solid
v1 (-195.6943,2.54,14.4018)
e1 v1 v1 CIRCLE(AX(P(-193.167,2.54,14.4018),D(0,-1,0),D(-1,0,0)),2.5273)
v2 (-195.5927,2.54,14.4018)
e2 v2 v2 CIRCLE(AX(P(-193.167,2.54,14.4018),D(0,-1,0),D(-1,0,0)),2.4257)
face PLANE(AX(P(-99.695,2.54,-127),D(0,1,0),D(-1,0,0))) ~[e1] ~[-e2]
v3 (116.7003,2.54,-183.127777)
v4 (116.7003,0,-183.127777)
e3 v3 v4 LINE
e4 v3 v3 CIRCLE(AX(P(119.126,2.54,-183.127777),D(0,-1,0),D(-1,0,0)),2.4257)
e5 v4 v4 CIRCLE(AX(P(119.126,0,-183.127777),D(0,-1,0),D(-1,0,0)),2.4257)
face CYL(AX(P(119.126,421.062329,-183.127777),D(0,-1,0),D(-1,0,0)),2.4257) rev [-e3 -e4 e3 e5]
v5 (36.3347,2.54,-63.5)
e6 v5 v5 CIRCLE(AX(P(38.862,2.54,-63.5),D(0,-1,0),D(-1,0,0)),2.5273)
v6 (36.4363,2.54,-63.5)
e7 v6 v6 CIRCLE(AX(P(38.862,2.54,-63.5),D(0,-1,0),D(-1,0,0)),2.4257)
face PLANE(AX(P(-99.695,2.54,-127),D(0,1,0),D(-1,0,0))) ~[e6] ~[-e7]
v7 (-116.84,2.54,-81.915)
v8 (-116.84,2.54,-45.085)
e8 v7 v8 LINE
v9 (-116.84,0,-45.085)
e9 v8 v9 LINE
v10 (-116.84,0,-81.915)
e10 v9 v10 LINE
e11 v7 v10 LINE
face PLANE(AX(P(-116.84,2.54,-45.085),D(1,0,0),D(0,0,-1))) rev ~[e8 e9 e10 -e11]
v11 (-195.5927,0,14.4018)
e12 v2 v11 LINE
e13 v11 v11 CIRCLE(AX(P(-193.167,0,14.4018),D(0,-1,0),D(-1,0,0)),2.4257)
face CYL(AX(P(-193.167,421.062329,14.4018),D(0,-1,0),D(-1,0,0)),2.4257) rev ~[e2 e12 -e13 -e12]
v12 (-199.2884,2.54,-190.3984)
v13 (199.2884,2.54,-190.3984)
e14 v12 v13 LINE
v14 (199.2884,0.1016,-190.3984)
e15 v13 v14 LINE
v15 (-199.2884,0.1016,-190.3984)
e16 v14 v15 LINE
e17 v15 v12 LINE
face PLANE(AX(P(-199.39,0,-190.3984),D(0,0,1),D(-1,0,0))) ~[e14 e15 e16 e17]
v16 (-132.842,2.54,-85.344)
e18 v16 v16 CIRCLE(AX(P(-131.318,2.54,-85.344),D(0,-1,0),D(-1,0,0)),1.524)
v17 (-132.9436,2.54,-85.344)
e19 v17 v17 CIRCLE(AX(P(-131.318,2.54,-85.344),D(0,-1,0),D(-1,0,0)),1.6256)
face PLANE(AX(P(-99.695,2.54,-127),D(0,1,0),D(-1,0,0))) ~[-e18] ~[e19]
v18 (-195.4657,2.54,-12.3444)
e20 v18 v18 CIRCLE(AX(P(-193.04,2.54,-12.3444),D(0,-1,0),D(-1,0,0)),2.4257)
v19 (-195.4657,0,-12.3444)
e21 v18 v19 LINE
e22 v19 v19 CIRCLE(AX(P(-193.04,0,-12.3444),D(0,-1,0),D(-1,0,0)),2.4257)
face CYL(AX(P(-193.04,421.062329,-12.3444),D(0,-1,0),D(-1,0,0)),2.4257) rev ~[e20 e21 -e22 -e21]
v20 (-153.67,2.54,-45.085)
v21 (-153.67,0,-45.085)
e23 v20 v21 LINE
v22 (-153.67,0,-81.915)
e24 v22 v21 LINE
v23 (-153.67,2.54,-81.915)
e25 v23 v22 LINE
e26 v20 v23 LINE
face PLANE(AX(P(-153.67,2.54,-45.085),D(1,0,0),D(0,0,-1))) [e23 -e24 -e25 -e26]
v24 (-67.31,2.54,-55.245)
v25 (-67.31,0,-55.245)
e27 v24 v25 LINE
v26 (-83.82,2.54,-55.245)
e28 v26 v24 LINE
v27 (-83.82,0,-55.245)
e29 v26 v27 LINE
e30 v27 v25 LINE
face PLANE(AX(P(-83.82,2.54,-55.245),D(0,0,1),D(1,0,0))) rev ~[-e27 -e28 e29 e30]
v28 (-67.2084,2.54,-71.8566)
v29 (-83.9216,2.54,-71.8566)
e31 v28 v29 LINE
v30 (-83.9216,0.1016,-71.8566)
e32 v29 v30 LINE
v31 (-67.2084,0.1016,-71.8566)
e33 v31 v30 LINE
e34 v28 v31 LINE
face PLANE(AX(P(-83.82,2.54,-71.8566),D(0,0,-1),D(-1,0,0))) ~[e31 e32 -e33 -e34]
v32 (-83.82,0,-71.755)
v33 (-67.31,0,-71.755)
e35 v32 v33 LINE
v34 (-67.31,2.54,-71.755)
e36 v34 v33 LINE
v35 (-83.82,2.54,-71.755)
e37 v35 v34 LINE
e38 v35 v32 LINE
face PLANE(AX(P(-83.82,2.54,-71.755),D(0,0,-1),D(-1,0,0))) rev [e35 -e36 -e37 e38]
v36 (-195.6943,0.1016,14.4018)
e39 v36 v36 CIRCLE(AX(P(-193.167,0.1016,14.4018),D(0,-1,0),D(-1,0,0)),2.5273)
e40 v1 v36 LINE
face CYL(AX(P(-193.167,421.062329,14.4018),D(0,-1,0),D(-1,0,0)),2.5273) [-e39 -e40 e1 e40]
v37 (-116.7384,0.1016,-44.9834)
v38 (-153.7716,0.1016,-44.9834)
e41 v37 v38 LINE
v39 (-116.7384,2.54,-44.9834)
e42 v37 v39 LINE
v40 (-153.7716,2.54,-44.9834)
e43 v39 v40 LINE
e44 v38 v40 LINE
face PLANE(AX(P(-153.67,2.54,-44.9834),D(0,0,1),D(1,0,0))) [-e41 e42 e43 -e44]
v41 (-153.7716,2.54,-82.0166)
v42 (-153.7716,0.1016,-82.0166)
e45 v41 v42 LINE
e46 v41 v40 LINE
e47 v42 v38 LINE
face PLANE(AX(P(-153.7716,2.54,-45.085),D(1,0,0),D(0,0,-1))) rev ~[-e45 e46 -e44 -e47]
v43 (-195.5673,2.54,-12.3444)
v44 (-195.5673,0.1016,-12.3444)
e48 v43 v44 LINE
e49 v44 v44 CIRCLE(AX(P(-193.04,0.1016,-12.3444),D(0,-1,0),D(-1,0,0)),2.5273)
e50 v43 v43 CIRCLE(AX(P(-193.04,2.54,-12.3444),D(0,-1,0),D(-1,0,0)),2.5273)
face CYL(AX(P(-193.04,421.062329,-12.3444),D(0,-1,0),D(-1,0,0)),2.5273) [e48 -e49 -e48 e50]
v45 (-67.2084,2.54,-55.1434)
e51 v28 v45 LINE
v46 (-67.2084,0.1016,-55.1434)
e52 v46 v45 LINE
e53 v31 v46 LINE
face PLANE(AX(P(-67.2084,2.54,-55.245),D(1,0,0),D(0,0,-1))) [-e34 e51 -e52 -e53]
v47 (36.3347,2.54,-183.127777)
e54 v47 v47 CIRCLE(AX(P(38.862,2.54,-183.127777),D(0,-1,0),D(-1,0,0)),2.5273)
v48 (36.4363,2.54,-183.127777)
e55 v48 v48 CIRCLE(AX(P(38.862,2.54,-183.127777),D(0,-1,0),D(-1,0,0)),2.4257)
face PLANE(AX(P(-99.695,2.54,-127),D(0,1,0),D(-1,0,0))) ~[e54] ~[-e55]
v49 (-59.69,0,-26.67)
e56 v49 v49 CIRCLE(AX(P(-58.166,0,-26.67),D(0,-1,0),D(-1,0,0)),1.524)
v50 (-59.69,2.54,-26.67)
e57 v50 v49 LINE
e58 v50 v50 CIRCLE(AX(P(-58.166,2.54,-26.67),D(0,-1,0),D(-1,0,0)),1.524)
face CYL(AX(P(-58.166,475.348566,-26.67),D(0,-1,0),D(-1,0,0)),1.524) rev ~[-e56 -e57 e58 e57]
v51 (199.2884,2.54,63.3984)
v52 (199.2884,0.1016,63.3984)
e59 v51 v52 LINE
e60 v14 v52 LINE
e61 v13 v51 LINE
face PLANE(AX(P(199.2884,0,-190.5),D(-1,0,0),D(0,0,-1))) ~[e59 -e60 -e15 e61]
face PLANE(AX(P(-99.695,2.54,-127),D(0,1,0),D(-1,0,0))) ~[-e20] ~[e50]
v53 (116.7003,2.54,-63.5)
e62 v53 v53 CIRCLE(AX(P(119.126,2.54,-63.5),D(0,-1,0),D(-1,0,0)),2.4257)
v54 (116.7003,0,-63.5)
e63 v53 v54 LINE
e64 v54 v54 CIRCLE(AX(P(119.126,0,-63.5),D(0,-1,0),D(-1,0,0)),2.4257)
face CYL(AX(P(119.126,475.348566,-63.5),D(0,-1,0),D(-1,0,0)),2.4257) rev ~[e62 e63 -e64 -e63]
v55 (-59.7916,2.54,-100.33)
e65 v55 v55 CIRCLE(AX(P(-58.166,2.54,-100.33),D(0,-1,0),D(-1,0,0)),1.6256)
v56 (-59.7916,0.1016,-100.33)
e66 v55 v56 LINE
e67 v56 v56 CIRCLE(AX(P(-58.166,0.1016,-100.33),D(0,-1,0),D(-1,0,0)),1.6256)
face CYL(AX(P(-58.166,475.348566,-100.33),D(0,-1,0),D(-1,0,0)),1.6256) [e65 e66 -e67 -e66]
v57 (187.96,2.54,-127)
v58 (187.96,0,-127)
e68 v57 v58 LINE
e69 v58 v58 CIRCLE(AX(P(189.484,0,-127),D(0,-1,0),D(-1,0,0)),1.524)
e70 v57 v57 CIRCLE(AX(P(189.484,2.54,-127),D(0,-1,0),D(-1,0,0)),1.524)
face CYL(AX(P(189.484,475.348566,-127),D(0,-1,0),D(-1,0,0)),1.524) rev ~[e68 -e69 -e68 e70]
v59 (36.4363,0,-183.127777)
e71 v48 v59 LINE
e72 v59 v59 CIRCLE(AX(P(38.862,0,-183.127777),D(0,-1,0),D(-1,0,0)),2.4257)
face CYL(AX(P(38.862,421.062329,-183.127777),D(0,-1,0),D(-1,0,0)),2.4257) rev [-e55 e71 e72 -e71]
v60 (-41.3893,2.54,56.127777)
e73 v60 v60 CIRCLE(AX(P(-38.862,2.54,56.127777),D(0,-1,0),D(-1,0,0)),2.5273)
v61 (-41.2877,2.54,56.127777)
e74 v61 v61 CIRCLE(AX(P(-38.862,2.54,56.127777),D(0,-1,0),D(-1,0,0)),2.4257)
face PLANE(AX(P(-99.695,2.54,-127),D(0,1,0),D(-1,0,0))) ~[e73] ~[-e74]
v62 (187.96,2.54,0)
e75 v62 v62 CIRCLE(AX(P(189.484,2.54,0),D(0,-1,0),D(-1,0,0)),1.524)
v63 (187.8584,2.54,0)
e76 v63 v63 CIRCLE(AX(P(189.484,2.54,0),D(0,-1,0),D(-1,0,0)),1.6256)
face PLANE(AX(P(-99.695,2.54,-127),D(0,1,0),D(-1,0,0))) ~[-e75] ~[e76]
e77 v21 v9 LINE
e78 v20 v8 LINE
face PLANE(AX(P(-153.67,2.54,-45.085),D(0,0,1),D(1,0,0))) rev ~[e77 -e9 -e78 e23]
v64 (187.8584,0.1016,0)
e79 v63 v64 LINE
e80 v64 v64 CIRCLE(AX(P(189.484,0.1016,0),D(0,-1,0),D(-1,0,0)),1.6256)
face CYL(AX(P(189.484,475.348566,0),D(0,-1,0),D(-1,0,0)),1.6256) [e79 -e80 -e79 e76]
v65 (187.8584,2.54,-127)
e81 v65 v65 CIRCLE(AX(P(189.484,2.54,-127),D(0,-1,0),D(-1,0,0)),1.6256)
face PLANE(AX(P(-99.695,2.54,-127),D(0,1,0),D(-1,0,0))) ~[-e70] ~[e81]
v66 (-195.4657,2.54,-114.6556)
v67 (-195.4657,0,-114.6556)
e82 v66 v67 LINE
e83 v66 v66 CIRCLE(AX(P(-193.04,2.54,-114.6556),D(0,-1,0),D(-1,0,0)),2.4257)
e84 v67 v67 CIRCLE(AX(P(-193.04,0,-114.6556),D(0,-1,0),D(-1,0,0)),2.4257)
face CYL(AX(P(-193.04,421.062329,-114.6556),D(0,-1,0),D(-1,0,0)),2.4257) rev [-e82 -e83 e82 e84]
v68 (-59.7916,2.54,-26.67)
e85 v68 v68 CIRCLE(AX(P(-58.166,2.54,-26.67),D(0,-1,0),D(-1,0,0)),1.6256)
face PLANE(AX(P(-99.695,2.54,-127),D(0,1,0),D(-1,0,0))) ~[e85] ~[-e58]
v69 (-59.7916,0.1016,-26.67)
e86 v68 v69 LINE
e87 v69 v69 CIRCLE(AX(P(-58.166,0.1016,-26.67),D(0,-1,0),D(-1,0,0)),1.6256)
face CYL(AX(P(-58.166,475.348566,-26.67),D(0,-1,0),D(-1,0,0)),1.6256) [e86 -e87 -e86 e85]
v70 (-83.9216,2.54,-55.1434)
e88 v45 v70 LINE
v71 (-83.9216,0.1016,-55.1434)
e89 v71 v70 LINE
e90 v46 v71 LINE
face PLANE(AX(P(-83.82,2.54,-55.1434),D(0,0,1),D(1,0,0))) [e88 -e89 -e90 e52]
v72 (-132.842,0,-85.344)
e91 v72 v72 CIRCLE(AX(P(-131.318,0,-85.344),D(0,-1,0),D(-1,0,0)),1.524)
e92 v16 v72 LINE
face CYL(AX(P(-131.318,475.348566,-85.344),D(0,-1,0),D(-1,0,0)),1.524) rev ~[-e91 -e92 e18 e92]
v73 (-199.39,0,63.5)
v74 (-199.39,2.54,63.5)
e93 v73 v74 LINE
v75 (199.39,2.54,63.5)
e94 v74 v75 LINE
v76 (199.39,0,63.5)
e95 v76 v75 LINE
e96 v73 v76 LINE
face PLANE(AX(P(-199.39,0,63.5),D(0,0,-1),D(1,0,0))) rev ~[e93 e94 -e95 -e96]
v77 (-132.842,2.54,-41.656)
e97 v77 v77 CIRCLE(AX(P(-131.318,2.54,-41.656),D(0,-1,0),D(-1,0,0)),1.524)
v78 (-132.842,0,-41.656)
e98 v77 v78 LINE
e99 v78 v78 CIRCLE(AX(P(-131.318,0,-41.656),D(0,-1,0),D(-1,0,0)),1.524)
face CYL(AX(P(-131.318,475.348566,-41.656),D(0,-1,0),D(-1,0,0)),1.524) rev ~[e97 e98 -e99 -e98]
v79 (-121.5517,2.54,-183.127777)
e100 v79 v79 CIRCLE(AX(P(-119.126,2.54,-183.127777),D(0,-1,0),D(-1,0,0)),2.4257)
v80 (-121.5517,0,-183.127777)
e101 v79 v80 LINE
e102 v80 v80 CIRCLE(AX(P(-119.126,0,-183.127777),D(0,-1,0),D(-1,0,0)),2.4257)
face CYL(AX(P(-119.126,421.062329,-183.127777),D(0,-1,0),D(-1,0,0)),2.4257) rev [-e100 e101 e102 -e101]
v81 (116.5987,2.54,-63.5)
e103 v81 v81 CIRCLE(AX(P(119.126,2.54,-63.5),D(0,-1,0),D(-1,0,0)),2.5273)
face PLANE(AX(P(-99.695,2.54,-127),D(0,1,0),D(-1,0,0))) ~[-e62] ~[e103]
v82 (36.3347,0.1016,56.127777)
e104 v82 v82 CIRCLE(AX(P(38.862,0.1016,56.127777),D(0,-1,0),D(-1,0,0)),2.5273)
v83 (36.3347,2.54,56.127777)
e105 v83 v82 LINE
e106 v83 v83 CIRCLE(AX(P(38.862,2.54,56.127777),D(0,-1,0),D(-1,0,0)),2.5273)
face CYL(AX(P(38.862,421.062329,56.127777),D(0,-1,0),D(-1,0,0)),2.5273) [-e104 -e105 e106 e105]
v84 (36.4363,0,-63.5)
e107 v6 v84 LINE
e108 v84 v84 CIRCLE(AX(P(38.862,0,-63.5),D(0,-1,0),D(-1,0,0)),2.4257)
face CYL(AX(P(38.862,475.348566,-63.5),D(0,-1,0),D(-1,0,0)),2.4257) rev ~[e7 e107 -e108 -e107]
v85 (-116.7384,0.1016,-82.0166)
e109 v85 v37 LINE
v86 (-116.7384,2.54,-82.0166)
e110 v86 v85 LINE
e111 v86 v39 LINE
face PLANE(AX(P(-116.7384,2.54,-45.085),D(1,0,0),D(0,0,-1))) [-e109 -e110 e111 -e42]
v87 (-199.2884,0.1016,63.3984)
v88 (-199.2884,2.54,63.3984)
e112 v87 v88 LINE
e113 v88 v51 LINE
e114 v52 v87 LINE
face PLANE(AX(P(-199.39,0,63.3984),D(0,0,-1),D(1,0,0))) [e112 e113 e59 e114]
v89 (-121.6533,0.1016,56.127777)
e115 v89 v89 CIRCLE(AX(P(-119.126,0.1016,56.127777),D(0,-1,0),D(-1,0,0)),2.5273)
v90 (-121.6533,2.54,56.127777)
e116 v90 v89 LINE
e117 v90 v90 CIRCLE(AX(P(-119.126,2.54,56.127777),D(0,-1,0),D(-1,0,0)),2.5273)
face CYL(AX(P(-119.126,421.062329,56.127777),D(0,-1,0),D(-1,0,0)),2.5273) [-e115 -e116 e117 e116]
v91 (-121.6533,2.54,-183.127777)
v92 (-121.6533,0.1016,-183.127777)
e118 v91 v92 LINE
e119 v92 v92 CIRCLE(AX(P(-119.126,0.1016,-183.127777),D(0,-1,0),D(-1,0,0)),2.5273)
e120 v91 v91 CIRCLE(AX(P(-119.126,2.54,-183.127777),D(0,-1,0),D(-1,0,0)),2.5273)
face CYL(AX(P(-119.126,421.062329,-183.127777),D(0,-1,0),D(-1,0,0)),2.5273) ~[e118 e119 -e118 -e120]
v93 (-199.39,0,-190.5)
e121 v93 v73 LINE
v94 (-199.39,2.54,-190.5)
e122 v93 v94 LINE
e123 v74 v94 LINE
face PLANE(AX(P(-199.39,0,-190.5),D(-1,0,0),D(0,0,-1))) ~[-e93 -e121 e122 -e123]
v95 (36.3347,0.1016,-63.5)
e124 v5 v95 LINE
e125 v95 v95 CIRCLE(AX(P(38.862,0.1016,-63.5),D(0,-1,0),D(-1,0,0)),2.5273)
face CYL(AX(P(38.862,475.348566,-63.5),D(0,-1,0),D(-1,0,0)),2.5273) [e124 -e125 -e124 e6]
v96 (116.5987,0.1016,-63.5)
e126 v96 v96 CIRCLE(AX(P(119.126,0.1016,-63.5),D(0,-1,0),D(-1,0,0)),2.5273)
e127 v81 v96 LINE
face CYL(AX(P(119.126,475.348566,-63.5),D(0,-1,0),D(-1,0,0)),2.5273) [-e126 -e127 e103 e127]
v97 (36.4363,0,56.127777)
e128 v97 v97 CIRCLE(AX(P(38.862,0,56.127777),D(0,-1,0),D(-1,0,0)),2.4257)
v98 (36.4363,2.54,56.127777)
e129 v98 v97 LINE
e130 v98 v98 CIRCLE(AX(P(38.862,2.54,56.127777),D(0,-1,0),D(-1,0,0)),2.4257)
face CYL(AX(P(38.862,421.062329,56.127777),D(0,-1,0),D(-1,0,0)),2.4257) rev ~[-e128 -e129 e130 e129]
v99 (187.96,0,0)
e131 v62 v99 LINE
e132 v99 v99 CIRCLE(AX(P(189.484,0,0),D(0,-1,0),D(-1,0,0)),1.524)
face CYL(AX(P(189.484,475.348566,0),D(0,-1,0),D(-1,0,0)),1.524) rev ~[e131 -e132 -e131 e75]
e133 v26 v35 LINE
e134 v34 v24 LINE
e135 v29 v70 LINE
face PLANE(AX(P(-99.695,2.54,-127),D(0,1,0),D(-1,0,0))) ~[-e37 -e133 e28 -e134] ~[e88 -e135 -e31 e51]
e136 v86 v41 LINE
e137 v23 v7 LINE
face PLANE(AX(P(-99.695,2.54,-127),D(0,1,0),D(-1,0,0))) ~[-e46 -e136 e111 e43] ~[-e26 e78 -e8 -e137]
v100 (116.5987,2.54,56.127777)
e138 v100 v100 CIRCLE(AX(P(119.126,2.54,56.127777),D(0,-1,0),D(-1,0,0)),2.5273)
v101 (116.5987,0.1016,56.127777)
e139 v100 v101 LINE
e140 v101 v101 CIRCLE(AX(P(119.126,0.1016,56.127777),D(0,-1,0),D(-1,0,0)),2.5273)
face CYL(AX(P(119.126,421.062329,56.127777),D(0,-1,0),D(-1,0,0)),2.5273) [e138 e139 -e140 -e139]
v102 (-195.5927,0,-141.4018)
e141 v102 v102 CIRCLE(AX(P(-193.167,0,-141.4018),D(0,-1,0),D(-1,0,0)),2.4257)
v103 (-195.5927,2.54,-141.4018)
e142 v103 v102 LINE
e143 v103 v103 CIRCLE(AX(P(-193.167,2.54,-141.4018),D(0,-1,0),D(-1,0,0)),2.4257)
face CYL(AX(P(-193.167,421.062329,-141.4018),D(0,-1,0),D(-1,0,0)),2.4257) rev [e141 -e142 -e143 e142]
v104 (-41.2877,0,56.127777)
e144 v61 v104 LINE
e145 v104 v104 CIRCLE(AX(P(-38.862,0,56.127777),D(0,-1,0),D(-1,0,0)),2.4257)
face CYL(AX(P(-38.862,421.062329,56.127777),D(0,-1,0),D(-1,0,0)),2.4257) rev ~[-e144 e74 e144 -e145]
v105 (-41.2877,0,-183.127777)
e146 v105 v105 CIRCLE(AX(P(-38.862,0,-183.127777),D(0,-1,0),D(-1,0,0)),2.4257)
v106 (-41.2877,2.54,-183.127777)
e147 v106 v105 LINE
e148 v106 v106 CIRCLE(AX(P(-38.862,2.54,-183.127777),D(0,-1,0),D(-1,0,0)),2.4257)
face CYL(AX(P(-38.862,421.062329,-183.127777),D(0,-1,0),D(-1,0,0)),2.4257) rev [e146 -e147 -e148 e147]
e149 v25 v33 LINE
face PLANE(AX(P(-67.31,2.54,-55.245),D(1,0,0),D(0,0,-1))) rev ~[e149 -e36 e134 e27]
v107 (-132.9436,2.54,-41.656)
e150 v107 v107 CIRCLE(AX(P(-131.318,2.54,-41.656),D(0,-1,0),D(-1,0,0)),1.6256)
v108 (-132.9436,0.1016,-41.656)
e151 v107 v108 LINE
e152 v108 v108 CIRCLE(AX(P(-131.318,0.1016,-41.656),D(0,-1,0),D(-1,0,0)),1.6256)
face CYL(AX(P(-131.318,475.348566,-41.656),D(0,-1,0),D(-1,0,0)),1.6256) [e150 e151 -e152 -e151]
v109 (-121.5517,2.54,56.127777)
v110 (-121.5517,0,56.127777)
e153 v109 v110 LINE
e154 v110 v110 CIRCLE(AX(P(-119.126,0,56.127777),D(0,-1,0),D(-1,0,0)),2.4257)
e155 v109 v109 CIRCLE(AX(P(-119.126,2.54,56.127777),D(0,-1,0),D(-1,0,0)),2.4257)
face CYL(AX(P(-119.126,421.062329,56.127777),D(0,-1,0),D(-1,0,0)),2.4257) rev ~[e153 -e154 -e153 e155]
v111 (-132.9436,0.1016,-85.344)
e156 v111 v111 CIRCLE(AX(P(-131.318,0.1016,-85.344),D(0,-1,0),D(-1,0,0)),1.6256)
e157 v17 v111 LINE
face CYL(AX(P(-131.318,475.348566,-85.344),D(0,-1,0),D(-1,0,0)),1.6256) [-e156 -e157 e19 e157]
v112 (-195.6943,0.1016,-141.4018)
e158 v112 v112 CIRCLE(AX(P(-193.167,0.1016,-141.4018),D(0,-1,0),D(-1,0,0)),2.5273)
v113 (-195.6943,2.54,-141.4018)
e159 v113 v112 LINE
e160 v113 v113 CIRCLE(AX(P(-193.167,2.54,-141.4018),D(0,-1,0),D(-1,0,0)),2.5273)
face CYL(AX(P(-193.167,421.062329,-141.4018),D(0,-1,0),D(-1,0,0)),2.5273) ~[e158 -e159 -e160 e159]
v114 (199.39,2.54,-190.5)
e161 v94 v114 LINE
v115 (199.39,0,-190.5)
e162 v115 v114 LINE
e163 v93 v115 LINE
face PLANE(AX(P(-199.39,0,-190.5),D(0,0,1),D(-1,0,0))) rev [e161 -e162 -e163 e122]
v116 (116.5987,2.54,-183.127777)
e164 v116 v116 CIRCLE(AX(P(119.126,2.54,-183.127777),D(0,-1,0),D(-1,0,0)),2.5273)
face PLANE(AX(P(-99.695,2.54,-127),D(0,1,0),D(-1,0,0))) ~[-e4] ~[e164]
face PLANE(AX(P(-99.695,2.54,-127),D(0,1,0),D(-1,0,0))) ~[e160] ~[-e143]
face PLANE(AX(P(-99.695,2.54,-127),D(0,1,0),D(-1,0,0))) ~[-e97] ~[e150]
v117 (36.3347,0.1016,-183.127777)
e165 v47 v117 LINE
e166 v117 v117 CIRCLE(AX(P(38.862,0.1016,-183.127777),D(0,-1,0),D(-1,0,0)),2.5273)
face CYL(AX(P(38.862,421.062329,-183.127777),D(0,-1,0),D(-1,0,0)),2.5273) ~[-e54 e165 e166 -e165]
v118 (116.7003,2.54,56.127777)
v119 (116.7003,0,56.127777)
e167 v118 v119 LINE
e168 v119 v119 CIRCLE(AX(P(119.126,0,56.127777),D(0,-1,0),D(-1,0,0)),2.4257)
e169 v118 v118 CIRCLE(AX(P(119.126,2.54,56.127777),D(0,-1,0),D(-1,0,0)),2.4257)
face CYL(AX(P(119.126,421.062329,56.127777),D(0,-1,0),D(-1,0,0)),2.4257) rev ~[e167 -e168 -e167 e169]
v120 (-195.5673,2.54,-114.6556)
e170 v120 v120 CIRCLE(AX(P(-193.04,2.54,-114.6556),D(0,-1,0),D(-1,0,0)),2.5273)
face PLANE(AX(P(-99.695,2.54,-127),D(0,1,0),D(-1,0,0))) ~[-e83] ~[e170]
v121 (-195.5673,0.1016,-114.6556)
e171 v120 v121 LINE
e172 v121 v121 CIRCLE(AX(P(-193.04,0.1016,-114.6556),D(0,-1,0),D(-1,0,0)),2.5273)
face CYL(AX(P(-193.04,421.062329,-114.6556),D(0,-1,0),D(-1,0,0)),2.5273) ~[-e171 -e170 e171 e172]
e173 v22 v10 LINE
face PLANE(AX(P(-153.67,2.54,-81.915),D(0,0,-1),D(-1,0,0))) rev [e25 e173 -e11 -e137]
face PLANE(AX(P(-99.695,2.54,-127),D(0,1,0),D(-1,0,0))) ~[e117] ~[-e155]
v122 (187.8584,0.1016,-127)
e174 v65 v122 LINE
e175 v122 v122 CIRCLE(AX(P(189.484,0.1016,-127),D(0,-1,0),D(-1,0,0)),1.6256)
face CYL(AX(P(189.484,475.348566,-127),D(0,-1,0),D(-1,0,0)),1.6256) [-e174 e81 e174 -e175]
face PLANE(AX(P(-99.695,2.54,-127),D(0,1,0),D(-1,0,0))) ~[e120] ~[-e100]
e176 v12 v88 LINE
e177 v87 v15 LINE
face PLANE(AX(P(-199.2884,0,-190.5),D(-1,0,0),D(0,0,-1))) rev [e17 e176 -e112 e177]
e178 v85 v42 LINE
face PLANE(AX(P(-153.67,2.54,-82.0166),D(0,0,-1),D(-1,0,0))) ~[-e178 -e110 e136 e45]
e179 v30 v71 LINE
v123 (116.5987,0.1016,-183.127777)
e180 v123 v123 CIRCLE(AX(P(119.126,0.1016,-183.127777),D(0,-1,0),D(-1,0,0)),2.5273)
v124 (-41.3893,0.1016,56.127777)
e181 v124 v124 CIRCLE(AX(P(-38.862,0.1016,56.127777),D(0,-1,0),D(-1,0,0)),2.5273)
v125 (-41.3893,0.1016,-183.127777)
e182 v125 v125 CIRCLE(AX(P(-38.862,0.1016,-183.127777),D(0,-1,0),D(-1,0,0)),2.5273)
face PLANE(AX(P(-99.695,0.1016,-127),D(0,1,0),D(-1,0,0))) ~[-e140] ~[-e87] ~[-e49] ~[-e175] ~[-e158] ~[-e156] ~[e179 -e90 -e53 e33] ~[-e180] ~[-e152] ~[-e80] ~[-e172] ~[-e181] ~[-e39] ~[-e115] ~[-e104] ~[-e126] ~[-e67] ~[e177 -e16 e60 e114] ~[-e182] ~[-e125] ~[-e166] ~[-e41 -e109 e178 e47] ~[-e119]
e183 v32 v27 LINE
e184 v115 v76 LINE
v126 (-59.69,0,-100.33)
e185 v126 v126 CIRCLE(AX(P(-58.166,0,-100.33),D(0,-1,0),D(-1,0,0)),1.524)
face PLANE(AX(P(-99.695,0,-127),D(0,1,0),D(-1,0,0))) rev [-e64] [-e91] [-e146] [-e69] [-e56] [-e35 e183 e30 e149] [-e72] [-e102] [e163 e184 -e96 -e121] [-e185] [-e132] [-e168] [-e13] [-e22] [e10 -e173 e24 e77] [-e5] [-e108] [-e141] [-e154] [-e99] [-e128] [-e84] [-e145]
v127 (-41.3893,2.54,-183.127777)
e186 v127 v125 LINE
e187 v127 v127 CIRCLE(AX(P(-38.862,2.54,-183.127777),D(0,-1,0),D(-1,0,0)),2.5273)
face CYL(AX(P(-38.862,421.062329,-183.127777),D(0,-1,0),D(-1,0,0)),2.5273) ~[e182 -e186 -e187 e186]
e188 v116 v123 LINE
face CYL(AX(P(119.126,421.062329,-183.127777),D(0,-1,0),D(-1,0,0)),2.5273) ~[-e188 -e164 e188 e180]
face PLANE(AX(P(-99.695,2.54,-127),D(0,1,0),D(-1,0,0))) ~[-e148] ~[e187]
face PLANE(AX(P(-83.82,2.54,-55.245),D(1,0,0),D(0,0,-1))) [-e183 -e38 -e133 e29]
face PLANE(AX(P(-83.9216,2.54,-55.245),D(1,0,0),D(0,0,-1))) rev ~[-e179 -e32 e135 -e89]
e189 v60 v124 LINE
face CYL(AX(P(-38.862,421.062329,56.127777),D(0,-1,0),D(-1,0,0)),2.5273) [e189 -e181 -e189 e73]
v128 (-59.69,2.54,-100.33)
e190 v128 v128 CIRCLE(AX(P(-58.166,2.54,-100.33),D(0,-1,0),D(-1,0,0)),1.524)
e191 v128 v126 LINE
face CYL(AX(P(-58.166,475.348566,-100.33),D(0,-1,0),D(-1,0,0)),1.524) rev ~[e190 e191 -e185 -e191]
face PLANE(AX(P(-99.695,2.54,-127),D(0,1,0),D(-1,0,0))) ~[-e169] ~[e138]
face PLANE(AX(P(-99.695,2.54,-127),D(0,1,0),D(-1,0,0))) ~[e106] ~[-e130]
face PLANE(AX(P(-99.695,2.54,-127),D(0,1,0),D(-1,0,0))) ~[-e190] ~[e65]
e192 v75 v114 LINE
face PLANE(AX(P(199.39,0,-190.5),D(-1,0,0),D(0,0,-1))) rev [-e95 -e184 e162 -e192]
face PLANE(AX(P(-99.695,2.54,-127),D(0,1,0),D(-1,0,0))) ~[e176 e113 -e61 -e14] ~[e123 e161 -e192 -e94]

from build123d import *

# Parameters (mm, degrees)
SKETCH1_W                    = 199.39
SKETCH1_H                    = 127
BOSS_EXTRUDE1_DEPTH          = 2.54
F_11_0_191_DIAMETER_HOLE1_D  = 4.8514
F_11_0_191_DIAMETER_HOLE2_D  = 4.8514
SKETCH8_W                    = 36.83
SKETCH8_H                    = 18.415
SKETCH8_W_2                  = 16.51
SKETCH8_H_2                  = 8.255
CUT_EXTRUDE1_DEPTH           = 2.54
F_11_0_191_DIAMETER_HOLE3_D  = 4.8514
F_31_0_12_DIAMETER_HOLE2_D   = 3.048
F_31_0_12_DIAMETER_HOLE3_D   = 3.048
F_1_8_0_125_DIAMETER_HOLE1_D = 3.048
SHELL1_T                     = -0.1016


with BuildPart() as part:
    # Sketch1 → Boss-Extrude1 (new body)
    with BuildSketch(Plane(origin=(0, 0, 0), x_dir=(1, 0, 0), z_dir=(0, 1, 0))):
        with Locations((-99.695, 0)):
            Rectangle(SKETCH1_W, SKETCH1_H)
        with Locations((99.695, 0)):
            Rectangle(SKETCH1_W, SKETCH1_H)
    boss_extrude1 = extrude(amount=BOSS_EXTRUDE1_DEPTH)

    # #11 (0.191) Diameter Hole1 (through all)
    with Locations(Plane(origin=(0, 2.54, 0), x_dir=(1, 0, 0), z_dir=(0, 1, 0))):
        with Locations((-193.167, -14.4018), (-193.04, 12.3444)):
            f_11_0_191_diameter_hole1 = Hole(F_11_0_191_DIAMETER_HOLE1_D / 2)

    # #11 (0.191) Diameter Hole2 (through all)
    with Locations(Plane(origin=(0, 2.54, 0), x_dir=(1, 0, 0), z_dir=(0, 1, 0))):
        with Locations((-119.126, -56.127777467), (-38.862, -56.127777467), (38.862, -56.127777467), (119.126, -56.127777467)):
            f_11_0_191_diameter_hole2 = Hole(F_11_0_191_DIAMETER_HOLE2_D / 2)

    # Sketch8 → Cut-Extrude1 (cut)
    with BuildSketch(Plane(origin=(0, 2.54, 0), x_dir=(1, 0, 0), z_dir=(0, 1, 0))):
        with Locations((-135.255, 54.2925)):
            Rectangle(SKETCH8_W, SKETCH8_H)
        with Locations((-75.565, 59.3725)):
            Rectangle(SKETCH8_W_2, SKETCH8_H_2)
    cut_extrude1 = extrude(amount=-CUT_EXTRUDE1_DEPTH, mode=Mode.SUBTRACT)

    # Mirror6: Boss-Extrude1, #11 (0.191) Diameter Hole1, #11 (0.191) Diameter Hole2, Cut-Extrude1 across plane
    add(boss_extrude1.mirror(Plane(origin=(0, 2.54, -63.5), x_dir=(1, 0, 0), z_dir=(0, 0, -1))))
    add(f_11_0_191_diameter_hole1.mirror(Plane(origin=(0, 2.54, -63.5), x_dir=(1, 0, 0), z_dir=(0, 0, -1))), mode=Mode.SUBTRACT)
    add(f_11_0_191_diameter_hole2.mirror(Plane(origin=(0, 2.54, -63.5), x_dir=(1, 0, 0), z_dir=(0, 0, -1))), mode=Mode.SUBTRACT)
    add(cut_extrude1.mirror(Plane(origin=(0, 2.54, -63.5), x_dir=(1, 0, 0), z_dir=(0, 0, -1))), mode=Mode.SUBTRACT)

    # #11 (0.191) Diameter Hole3 (through all)
    with Locations(Plane(origin=(0, 2.54, 0), x_dir=(1, 0, 0), z_dir=(0, 1, 0))):
        with Locations((119.126, 63.5), (38.862, 63.5)):
            Hole(F_11_0_191_DIAMETER_HOLE3_D / 2)

    # #31 (0.12) Diameter Hole2 (through all)
    with Locations(Plane(origin=(0, 2.54, 0), x_dir=(1, 0, 0), z_dir=(0, 1, 0))):
        with Locations((-131.318, 41.656), (-131.318, 85.344)):
            Hole(F_31_0_12_DIAMETER_HOLE2_D / 2)

    # #31 (0.12) Diameter Hole3 (through all)
    with Locations(Plane(origin=(0, 2.54, 0), x_dir=(1, 0, 0), z_dir=(0, 1, 0))):
        with Locations((-58.166, 100.33), (-58.166, 26.67)):
            Hole(F_31_0_12_DIAMETER_HOLE3_D / 2)

    # 1/8 (0.125) Diameter Hole1 (through all)
    with Locations(Plane(origin=(0, 2.54, 0), x_dir=(1, 0, 0), z_dir=(0, 1, 0))):
        with Locations((189.484, 0), (189.484, 127)):
            Hole(F_1_8_0_125_DIAMETER_HOLE1_D / 2)

    # Shell1
    shell1_openings = [part.faces().sort_by_distance(p)[0] for p in [
        (189.484, 2.54, 1.524),
    ]]
    offset(amount=SHELL1_T, openings=shell1_openings, kind=Kind.INTERSECTION)


solid = part.part
